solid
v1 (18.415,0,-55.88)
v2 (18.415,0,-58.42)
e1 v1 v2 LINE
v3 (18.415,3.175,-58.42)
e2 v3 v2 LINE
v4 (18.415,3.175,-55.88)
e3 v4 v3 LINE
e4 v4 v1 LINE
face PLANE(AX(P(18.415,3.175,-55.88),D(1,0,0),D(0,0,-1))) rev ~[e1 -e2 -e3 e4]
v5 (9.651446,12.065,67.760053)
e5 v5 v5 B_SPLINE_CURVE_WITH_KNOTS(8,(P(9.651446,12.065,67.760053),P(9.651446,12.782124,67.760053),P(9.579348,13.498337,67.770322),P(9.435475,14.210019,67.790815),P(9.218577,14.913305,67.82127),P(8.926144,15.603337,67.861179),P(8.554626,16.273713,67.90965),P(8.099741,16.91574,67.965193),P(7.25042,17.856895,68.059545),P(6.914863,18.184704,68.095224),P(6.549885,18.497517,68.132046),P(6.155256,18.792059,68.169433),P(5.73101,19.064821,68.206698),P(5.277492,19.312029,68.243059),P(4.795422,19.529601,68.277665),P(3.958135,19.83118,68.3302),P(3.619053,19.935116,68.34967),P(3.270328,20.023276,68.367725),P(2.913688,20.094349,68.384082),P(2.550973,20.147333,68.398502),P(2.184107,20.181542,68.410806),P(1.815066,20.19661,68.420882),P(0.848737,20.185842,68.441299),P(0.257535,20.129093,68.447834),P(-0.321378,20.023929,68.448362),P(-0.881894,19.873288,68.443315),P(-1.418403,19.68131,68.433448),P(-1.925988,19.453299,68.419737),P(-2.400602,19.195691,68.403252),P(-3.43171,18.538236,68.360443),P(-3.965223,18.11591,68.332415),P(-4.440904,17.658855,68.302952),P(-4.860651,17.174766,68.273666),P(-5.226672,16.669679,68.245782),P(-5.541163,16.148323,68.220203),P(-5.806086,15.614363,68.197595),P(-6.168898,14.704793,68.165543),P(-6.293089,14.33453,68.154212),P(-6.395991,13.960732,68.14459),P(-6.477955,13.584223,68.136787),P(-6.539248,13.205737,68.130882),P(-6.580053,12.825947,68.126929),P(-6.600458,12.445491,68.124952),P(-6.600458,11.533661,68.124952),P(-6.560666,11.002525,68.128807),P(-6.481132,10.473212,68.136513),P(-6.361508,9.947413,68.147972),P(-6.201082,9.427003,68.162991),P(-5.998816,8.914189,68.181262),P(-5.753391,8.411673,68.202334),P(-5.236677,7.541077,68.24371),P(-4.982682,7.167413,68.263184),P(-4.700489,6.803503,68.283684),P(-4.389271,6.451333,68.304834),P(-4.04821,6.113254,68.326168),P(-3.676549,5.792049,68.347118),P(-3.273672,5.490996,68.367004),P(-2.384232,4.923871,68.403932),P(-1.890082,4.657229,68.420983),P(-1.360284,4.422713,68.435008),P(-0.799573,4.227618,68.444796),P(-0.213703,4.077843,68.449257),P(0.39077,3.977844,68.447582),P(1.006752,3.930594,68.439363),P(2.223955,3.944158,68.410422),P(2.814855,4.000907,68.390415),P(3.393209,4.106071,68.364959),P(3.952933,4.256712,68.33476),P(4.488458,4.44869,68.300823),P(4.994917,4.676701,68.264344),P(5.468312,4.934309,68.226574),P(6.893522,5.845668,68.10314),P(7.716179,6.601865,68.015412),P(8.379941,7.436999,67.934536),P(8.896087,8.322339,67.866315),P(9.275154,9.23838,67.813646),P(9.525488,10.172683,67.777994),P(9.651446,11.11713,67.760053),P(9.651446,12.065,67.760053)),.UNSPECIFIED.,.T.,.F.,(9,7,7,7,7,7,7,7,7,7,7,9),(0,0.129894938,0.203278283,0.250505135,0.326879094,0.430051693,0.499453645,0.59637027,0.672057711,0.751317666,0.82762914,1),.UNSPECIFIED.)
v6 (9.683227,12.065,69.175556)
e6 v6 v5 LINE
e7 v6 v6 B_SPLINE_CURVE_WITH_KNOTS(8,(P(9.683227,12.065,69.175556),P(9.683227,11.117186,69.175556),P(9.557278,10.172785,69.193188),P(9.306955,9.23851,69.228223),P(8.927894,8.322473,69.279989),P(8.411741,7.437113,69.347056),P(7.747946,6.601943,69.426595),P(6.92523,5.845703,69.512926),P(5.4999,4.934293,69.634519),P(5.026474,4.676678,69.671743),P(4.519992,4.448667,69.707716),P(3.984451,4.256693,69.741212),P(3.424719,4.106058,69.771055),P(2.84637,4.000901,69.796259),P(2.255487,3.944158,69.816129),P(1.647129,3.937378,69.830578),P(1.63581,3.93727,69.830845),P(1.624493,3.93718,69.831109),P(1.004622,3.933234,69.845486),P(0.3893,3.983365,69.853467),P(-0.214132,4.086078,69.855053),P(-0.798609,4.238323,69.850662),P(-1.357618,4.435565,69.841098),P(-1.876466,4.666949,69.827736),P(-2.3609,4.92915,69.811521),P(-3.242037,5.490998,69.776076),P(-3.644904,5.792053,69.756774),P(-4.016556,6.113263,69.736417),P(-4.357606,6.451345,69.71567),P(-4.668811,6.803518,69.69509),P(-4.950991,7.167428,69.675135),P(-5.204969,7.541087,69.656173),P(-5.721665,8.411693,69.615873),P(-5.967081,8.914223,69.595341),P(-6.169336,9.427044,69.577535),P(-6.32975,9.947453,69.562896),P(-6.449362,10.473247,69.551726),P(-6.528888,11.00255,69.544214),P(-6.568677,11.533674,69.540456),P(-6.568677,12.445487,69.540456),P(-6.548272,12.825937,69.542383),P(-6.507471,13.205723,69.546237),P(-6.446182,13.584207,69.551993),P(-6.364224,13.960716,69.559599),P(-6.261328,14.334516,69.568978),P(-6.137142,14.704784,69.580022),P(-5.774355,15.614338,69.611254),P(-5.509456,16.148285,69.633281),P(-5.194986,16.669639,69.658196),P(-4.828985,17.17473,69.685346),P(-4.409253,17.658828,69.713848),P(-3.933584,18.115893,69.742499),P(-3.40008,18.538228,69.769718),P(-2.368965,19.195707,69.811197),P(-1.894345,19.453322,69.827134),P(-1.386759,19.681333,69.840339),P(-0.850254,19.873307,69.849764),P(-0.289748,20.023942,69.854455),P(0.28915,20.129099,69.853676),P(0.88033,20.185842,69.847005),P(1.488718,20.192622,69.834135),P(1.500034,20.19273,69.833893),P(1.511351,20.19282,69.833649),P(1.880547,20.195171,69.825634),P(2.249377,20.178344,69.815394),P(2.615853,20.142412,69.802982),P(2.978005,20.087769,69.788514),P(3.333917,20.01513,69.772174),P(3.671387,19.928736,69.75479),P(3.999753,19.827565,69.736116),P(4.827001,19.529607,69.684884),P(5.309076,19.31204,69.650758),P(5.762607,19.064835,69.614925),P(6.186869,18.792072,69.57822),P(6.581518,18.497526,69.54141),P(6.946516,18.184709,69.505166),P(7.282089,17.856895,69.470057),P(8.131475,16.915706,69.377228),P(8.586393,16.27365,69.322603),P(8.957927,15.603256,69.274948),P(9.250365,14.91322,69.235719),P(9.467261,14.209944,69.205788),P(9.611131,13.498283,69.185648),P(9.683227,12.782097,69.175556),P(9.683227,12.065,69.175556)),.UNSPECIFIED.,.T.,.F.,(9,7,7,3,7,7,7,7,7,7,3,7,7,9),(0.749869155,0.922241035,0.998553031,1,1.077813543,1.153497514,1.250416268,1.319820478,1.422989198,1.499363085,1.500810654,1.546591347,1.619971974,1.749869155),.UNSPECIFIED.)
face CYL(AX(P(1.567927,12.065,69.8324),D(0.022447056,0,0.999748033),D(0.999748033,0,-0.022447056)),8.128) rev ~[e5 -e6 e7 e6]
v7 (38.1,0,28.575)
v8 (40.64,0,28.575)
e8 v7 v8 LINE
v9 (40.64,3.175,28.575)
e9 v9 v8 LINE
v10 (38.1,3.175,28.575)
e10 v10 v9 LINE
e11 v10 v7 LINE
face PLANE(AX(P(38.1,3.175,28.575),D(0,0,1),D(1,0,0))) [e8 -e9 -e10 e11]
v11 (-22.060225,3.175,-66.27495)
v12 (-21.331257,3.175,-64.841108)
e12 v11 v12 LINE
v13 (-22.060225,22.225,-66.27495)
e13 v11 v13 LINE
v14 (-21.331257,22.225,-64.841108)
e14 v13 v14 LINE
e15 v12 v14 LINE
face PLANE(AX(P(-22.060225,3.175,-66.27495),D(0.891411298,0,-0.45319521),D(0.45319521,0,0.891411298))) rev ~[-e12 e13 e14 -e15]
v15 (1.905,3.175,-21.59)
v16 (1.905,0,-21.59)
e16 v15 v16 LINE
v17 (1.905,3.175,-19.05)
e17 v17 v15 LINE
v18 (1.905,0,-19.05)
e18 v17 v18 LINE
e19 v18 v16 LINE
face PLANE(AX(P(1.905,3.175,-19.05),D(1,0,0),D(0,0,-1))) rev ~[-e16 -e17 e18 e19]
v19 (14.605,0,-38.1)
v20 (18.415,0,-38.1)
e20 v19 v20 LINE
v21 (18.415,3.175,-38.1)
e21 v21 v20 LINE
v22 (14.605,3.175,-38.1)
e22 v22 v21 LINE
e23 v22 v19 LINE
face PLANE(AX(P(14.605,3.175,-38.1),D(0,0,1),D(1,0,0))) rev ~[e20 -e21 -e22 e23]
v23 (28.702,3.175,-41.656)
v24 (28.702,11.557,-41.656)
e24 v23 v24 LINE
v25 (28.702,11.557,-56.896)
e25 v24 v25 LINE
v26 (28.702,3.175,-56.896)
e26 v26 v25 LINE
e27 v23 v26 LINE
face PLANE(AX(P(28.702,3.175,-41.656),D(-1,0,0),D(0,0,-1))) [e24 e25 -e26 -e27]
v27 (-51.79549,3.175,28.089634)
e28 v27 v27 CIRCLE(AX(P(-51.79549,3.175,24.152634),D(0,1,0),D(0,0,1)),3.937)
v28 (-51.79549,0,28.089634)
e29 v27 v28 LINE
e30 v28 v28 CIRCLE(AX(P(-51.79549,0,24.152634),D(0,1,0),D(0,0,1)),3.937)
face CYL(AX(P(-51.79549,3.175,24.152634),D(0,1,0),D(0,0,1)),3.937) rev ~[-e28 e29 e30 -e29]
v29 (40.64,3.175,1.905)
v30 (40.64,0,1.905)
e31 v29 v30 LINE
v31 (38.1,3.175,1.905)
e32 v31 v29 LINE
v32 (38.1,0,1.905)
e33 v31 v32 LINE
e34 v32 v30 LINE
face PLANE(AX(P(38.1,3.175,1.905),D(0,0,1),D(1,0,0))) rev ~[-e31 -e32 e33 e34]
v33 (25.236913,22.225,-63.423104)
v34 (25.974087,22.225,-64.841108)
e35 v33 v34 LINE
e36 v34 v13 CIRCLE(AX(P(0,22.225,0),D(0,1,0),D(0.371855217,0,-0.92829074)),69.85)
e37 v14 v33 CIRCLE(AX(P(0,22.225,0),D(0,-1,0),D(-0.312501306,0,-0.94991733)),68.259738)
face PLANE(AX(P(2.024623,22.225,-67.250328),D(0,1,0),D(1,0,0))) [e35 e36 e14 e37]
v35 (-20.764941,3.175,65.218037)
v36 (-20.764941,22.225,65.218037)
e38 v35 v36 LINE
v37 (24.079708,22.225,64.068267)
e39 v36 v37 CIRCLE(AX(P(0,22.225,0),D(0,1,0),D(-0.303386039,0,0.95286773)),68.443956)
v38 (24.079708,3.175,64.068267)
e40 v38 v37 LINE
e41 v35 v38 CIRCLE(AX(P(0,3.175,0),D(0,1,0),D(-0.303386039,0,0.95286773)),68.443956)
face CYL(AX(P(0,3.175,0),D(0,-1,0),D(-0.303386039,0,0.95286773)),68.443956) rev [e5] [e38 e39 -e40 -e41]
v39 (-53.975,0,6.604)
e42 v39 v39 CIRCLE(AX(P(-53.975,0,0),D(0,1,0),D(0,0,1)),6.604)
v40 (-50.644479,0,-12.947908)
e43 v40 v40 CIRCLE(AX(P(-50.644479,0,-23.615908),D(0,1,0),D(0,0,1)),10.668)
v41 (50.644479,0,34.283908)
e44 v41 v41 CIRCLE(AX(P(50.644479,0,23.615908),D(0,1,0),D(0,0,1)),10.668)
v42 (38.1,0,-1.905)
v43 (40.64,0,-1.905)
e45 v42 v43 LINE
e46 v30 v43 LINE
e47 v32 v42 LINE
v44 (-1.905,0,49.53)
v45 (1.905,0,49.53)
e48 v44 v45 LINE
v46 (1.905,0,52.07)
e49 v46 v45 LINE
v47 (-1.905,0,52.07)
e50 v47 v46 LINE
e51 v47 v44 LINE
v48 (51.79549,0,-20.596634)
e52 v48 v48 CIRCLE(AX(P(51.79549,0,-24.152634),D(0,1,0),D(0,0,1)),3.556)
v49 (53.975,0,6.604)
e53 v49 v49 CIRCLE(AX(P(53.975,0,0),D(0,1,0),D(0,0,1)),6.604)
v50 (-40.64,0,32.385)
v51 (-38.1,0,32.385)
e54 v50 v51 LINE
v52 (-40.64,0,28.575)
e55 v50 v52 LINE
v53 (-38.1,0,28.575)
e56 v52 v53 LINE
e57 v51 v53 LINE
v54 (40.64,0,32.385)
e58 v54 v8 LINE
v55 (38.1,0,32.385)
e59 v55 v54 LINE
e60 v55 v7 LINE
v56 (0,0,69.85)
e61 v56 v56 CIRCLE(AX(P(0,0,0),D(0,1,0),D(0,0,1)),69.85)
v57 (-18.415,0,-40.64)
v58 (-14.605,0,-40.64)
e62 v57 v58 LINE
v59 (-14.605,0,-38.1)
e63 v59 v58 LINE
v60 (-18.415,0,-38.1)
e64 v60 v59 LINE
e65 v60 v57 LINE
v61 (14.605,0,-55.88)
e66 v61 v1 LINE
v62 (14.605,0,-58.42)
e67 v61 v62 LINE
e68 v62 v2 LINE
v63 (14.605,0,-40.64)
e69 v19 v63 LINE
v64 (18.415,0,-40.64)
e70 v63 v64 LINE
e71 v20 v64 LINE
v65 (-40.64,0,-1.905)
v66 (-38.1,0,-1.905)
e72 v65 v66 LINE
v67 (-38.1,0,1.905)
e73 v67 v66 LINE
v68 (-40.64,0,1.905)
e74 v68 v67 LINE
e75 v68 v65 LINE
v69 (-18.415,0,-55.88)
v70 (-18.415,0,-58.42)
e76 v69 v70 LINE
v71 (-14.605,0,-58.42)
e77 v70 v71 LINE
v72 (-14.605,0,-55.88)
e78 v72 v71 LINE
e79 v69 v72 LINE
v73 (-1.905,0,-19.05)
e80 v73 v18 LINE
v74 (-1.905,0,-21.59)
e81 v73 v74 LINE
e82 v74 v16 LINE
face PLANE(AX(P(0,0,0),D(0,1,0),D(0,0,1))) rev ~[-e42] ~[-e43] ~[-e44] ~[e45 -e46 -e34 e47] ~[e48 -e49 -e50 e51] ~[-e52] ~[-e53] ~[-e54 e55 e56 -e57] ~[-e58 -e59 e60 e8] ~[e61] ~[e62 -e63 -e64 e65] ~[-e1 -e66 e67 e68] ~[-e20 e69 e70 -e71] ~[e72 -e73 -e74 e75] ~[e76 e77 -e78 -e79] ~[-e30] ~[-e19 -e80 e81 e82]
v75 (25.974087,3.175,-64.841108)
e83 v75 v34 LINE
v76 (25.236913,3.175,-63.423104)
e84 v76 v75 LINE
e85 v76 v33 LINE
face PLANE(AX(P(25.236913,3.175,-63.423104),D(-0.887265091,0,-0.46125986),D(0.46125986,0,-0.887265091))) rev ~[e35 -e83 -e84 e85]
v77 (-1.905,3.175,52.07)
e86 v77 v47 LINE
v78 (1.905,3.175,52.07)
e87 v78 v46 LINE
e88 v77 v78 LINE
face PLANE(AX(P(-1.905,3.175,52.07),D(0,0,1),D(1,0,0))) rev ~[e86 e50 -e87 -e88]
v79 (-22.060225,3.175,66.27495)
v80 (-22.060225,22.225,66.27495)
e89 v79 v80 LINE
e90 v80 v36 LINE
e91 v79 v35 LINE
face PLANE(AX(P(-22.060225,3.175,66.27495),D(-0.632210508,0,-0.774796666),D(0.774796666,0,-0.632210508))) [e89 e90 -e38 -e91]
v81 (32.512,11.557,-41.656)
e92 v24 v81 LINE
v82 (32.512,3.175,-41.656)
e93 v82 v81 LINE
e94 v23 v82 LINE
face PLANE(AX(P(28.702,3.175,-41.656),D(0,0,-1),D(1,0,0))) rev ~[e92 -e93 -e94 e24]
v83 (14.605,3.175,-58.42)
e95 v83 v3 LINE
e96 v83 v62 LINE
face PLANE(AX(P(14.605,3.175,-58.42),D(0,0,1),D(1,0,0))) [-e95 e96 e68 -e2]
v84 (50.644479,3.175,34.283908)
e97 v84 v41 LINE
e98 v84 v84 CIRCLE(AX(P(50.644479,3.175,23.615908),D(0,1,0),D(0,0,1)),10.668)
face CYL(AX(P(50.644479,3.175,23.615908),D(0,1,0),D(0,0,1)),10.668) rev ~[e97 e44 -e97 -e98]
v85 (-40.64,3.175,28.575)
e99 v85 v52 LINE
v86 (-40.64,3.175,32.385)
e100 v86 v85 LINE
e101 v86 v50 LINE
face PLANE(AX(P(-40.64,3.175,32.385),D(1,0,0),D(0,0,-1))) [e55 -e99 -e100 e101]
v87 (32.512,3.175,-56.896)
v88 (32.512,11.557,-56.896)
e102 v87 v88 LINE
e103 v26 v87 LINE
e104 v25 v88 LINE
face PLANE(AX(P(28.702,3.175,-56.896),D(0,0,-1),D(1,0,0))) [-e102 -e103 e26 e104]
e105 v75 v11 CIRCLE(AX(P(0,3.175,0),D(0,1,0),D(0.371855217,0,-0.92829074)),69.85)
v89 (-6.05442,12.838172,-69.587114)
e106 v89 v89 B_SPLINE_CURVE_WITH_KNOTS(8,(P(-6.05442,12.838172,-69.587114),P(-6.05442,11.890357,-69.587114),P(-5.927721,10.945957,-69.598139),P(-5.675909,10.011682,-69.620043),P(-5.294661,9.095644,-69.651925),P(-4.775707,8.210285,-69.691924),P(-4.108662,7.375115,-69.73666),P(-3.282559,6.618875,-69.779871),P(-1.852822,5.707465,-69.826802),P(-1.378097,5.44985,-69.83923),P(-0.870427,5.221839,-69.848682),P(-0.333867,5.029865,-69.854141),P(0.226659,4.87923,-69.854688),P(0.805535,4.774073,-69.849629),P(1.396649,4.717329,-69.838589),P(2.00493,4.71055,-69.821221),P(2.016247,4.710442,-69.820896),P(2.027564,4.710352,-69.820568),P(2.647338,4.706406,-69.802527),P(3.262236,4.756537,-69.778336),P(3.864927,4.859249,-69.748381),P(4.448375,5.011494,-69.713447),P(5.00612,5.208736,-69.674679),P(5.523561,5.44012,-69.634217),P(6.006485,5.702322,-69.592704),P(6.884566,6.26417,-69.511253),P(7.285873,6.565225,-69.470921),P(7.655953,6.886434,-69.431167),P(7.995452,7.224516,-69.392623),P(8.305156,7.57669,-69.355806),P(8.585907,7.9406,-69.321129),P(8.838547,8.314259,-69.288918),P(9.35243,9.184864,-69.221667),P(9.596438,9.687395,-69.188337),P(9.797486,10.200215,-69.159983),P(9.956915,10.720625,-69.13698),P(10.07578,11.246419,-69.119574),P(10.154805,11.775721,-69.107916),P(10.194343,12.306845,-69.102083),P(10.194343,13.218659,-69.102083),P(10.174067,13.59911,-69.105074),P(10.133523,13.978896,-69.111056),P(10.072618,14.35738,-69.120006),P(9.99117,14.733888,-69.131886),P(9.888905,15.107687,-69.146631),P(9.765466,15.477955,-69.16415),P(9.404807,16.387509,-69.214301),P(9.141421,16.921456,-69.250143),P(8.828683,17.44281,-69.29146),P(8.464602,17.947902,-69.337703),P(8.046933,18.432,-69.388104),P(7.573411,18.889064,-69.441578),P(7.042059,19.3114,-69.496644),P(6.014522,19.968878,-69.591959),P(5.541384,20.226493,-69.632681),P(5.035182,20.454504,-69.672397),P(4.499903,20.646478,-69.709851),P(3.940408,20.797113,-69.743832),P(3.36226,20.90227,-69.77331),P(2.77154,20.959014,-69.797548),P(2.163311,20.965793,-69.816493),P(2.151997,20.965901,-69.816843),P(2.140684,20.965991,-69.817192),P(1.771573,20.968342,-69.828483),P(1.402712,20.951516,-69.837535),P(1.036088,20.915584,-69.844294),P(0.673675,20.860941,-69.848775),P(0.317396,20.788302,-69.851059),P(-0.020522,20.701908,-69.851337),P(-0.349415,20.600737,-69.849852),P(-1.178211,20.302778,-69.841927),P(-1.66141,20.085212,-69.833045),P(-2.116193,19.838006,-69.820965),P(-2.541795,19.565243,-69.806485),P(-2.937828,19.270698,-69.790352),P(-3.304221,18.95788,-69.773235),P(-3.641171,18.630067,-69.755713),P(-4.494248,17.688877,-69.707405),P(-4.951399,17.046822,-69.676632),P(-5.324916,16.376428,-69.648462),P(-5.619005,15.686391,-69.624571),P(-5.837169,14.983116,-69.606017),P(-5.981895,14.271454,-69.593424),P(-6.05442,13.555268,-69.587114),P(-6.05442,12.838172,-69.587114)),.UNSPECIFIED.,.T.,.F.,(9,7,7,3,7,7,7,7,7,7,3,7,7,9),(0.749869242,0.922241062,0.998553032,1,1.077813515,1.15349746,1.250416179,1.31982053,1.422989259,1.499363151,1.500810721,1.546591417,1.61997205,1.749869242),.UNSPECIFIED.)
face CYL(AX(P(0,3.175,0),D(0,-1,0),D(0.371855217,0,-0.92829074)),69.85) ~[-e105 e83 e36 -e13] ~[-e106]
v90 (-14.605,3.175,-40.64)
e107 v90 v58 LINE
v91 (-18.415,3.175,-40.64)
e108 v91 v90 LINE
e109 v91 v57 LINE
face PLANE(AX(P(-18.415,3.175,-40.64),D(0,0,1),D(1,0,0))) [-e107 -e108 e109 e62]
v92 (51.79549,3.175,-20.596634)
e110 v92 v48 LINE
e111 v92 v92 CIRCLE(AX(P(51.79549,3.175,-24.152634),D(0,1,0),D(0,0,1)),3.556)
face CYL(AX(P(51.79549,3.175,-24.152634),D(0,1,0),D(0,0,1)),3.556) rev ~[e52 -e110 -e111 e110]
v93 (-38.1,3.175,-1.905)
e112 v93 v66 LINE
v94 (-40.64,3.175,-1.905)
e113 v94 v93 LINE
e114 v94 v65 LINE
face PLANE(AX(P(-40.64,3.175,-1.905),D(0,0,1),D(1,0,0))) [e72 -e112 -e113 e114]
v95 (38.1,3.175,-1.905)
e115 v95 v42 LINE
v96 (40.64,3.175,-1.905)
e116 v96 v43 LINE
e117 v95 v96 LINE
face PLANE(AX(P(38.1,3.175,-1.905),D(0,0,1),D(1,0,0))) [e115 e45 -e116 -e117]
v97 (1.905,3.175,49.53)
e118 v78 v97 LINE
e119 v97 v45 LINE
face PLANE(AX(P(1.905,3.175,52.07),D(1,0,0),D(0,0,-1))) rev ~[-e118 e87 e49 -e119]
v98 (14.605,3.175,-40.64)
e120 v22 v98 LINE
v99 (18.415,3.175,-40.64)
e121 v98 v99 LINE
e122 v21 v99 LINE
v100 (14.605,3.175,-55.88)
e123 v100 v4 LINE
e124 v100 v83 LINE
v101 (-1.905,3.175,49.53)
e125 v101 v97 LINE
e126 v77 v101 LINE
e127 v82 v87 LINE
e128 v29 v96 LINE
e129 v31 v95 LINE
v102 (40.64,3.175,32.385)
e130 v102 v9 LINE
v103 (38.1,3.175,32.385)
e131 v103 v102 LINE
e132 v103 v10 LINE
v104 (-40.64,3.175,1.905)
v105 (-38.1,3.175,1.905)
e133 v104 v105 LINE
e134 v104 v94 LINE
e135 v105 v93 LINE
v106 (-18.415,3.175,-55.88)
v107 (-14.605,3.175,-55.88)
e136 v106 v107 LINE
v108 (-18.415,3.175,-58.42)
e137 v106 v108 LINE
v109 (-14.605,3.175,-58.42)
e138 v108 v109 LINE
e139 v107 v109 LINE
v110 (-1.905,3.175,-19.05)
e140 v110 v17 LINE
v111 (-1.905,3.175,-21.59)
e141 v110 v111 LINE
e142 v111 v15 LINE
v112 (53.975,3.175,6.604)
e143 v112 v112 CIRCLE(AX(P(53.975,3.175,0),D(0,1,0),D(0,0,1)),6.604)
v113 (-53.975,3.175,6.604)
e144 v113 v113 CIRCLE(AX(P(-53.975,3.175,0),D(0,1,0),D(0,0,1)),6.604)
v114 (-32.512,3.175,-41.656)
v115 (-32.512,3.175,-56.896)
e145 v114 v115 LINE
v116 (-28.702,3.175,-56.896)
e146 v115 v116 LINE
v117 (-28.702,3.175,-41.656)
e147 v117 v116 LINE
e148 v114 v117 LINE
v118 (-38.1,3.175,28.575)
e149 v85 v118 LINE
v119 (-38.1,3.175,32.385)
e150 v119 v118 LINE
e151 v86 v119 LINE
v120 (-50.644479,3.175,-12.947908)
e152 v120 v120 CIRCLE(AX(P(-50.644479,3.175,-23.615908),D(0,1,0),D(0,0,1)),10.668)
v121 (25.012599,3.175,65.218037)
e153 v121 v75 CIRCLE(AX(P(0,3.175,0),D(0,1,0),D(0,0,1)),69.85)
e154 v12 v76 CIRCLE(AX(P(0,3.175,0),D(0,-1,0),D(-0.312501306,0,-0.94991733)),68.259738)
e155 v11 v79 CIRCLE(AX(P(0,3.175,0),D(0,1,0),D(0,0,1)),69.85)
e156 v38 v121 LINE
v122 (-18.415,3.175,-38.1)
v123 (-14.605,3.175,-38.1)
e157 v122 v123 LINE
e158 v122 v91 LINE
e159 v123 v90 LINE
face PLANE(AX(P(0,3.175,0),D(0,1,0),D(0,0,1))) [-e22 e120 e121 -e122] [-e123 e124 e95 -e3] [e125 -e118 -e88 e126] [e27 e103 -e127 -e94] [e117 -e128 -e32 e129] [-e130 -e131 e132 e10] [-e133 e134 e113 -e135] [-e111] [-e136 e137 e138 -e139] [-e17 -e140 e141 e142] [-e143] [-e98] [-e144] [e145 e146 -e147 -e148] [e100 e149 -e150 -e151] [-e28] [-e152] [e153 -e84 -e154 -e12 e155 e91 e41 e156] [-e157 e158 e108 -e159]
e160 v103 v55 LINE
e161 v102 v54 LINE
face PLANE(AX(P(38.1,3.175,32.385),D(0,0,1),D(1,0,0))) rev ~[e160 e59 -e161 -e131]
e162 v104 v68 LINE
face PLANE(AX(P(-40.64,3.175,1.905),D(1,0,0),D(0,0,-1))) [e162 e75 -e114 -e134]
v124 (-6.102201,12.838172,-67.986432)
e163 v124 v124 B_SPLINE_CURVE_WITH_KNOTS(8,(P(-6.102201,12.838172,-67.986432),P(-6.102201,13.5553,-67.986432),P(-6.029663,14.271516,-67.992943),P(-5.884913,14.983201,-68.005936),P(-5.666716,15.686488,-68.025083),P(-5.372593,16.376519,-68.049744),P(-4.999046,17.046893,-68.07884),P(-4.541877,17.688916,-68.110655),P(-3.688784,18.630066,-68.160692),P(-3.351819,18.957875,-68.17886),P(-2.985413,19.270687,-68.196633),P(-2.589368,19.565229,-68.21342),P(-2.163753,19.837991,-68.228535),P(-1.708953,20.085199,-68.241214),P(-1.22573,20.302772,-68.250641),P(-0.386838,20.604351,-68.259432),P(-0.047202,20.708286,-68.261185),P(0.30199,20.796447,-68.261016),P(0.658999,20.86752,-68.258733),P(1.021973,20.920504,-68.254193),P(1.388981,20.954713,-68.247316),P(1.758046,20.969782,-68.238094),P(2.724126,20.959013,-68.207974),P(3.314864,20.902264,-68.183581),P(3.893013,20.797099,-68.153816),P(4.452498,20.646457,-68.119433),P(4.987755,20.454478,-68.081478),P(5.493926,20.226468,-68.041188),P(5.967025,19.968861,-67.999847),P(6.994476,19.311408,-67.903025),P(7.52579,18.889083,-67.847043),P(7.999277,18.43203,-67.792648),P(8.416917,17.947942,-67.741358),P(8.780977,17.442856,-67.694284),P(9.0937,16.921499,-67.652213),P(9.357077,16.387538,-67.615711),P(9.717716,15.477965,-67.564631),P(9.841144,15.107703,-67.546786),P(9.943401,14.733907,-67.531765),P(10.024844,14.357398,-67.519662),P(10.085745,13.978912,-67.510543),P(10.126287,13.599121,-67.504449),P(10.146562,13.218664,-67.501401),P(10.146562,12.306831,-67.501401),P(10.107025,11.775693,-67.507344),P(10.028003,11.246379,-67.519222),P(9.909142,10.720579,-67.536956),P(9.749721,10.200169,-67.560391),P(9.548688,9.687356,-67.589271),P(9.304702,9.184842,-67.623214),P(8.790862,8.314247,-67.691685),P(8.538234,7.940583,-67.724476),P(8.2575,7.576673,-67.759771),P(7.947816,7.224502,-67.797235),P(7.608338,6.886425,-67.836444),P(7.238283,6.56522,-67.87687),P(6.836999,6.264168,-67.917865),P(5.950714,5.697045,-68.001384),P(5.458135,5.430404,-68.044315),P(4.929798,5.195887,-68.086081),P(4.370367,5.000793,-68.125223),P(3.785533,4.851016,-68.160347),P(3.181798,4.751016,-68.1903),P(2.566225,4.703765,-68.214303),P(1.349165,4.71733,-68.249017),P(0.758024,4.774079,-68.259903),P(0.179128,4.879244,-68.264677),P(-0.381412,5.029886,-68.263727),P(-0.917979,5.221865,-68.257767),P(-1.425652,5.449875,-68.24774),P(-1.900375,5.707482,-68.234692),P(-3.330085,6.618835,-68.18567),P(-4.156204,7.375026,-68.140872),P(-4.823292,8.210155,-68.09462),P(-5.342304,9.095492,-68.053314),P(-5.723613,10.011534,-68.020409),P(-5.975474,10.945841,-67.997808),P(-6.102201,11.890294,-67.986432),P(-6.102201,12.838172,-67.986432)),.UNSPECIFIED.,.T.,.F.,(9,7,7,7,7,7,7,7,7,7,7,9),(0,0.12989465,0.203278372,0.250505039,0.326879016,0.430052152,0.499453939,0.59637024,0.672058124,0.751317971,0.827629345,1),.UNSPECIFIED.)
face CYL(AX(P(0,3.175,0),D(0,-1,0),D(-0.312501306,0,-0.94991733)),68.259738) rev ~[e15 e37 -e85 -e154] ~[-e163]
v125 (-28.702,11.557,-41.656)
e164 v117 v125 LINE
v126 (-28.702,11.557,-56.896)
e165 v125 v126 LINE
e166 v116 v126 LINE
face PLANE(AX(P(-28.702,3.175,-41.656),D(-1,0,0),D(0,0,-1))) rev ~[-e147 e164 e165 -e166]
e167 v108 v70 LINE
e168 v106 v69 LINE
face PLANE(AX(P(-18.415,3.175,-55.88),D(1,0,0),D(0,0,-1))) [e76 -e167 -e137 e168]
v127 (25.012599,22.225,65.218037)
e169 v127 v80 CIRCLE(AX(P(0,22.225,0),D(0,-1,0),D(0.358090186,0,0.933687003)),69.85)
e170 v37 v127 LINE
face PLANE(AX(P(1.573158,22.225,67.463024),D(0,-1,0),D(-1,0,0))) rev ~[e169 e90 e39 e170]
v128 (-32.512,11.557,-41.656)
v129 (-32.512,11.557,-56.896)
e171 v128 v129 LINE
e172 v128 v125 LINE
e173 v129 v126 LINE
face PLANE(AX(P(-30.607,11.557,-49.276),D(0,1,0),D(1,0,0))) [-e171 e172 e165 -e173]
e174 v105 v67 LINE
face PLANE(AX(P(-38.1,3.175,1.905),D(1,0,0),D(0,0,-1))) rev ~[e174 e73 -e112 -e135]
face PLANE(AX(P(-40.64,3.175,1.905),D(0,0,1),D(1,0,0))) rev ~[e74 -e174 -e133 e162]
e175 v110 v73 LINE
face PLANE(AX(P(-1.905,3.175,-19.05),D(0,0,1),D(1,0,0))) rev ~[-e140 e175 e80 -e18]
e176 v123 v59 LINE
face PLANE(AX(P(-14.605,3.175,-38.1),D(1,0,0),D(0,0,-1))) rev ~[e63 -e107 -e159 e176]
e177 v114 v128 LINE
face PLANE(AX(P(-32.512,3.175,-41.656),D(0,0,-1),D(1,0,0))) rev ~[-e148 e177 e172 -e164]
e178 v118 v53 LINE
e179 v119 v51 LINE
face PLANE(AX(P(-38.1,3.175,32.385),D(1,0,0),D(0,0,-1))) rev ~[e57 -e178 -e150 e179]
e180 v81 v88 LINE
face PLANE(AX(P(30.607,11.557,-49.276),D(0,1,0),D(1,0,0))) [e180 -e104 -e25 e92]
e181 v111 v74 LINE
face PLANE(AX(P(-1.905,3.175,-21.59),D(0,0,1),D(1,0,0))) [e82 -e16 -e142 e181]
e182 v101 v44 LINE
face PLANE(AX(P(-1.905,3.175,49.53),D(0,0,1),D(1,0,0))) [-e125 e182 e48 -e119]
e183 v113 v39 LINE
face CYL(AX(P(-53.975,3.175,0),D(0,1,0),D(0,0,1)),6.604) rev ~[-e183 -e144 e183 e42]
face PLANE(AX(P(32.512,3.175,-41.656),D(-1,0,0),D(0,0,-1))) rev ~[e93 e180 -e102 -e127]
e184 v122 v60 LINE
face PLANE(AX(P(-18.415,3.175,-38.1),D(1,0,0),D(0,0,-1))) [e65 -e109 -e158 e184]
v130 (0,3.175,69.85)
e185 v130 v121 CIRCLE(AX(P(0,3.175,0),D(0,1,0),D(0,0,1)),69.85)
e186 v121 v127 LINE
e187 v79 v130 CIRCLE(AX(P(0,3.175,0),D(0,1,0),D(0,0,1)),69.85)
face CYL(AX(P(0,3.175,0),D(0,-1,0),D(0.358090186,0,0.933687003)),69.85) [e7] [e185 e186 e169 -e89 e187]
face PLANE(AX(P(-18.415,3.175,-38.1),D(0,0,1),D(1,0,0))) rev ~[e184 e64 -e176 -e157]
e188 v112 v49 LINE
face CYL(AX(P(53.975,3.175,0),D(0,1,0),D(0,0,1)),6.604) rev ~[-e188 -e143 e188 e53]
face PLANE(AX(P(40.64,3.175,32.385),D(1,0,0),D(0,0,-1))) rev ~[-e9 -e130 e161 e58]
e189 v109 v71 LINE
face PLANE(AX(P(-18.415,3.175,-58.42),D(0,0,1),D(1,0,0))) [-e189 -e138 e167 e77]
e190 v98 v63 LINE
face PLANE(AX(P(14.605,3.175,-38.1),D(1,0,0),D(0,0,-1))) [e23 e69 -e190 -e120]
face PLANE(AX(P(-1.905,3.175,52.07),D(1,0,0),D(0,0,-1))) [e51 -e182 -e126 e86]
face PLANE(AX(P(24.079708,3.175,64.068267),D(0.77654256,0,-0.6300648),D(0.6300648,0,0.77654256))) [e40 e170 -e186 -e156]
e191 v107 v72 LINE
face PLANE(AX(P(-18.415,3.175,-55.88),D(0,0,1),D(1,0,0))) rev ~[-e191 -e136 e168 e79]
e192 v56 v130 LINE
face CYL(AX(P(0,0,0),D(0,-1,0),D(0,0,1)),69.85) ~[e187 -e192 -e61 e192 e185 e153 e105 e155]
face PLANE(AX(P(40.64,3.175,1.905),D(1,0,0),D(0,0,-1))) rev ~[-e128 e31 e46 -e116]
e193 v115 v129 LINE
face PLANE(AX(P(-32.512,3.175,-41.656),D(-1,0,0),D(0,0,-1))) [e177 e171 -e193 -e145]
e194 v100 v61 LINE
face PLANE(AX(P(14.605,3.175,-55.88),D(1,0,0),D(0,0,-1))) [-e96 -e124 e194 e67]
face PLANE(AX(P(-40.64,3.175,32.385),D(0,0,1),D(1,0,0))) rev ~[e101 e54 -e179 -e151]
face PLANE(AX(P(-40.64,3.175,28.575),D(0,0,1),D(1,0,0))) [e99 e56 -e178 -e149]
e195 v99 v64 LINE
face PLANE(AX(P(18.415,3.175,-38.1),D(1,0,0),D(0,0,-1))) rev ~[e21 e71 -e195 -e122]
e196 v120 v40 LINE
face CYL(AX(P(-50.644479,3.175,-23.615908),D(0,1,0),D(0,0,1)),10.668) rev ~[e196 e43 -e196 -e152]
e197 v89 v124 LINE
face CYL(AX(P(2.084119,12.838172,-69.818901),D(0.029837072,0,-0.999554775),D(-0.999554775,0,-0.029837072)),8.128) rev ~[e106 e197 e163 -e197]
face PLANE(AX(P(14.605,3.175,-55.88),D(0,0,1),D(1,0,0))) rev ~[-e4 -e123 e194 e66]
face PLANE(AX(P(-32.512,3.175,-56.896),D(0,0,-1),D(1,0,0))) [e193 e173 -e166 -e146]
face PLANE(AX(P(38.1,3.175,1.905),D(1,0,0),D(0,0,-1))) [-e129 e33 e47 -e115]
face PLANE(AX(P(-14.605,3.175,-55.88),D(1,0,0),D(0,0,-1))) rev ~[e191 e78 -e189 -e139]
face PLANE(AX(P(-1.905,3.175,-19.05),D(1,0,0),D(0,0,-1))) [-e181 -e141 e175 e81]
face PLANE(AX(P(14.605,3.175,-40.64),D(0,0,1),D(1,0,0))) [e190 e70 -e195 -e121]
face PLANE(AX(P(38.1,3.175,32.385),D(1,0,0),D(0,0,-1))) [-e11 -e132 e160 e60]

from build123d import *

# Parameters (mm, degrees)
SKETCH1_R           = 69.85
BOSS_EXTRUDE1_DEPTH = 3.175
SKETCH2_R           = 6.604
SKETCH2_R_2         = 3.937
SKETCH2_R_3         = 3.556
SKETCH2_R_4         = 10.668
CUT_EXTRUDE1_DEPTH  = 3.175
SKETCH3_W           = 3.81
SKETCH3_H           = 15.24
BOSS_EXTRUDE2_DEPTH = 8.382
SKETCH3_4_W         = 2.54
SKETCH3_4_H         = 3.81
SKETCH3_4_W_2       = 3.81
SKETCH3_4_H_2       = 2.54
CUT_EXTRUDE2_DEPTH  = 8.382
SKETCH4_W           = 3.81
SKETCH4_H           = 15.24
BOSS_EXTRUDE4_DEPTH = 8.382
BOSS_EXTRUDE5_DEPTH = 19.05
SKETCH6_R           = 8.128
CUT_EXTRUDE3_DEPTH  = 19.05
SKETCH7_R           = 8.128
CUT_EXTRUDE4_DEPTH  = 19.05


with BuildPart() as part:
    # Sketch1 → Boss-Extrude1 (new body)
    with BuildSketch(Plane(origin=(0, 0, 0), x_dir=(1, 0, 0), z_dir=(0, 1, 0))):
        with Locations(Location((0, 0, 0), (0, 0, 270))):
            Circle(SKETCH1_R)
    extrude(amount=BOSS_EXTRUDE1_DEPTH)

    # Sketch2 → Cut-Extrude1 (cut)
    with BuildSketch(Plane(origin=(0, 3.175, 0), x_dir=(1, 0, 0), z_dir=(0, 1, 0))):
        with Locations(Location((-53.975, 0, 0), (0, 0, 270))):
            Circle(SKETCH2_R)
        with Locations(Location((53.975, 0, 0), (0, 0, 270))):
            Circle(SKETCH2_R)
        with Locations(Location((-51.795490029, -24.152633658, 0), (0, 0, 270))):
            Circle(SKETCH2_R_2)
        with Locations(Location((51.795490029, 24.152633658, 0), (0, 0, 270))):
            Circle(SKETCH2_R_3)
        with Locations(Location((50.64447914, -23.615908466, 0), (0, 0, 270))):
            Circle(SKETCH2_R_4)
        with Locations(Location((-50.64447914, 23.615908466, 0), (0, 0, 270))):
            Circle(SKETCH2_R_4)
    extrude(amount=-CUT_EXTRUDE1_DEPTH, mode=Mode.SUBTRACT)

    # Sketch3 → Boss-Extrude2 (add)
    with BuildSketch(Plane(origin=(0, 3.175, 0), x_dir=(1, 0, 0), z_dir=(0, 1, 0))):
        with Locations((-30.607, 49.276)):
            Rectangle(SKETCH3_W, SKETCH3_H)
    extrude(amount=BOSS_EXTRUDE2_DEPTH)

    # Sketch3<4> → Cut-Extrude2 (cut)
    with BuildSketch(Plane(origin=(0, 3.175, 0), x_dir=(1, 0, 0), z_dir=(0, 1, 0))):
        with Locations((-39.37, 0)):
            Rectangle(SKETCH3_4_W, SKETCH3_4_H)
        with Locations((-39.37, -30.48)):
            Rectangle(SKETCH3_4_W, SKETCH3_4_H)
        with Locations((39.37, -30.48)):
            Rectangle(SKETCH3_4_W, SKETCH3_4_H)
        with Locations((39.37, 0)):
            Rectangle(SKETCH3_4_W, SKETCH3_4_H)
        with Locations((0, 20.32)):
            Rectangle(SKETCH3_4_W_2, SKETCH3_4_H_2)
        with Locations((0, -50.8)):
            Rectangle(SKETCH3_4_W_2, SKETCH3_4_H_2)
        with Locations((-16.51, 57.15)):
            Rectangle(SKETCH3_4_W_2, SKETCH3_4_H_2)
        with Locations((16.51, 57.15)):
            Rectangle(SKETCH3_4_W_2, SKETCH3_4_H_2)
        with Locations((16.51, 39.37)):
            Rectangle(SKETCH3_4_W_2, SKETCH3_4_H_2)
        with Locations((-16.51, 39.37)):
            Rectangle(SKETCH3_4_W_2, SKETCH3_4_H_2)
    extrude(amount=-CUT_EXTRUDE2_DEPTH, mode=Mode.SUBTRACT)

    # Sketch4 → Boss-Extrude4 (add)
    with BuildSketch(Plane(origin=(0, 3.175, 0), x_dir=(1, 0, 0), z_dir=(0, 1, 0))):
        with Locations((30.607, 49.276)):
            Rectangle(SKETCH4_W, SKETCH4_H)
    extrude(amount=BOSS_EXTRUDE4_DEPTH)

    # Sketch5 → Boss-Extrude5 (add)
    with BuildSketch(Plane(origin=(0, 3.175, 0), x_dir=(1, 0, 0), z_dir=(0, 1, 0))):
        with BuildLine():
            Line((-22.060225105, 66.27494978), (-21.331257294, 64.841108186))
            ThreePointArc((-21.331257294, 64.841108186), (2.077551681, 68.228114642), (25.236913051, 63.423103584))
            Line((25.236913051, 63.423103584), (25.974086879, 64.841108186))
            ThreePointArc((25.974086879, 64.841108186), (2.084119461, 69.818901066), (-22.060225105, 66.27494978))
        make_face()
        with BuildLine():
            Line((-22.060225105, -66.27494978), (-20.764940728, -65.218037135))
            ThreePointArc((-20.764940728, -65.218037135), (1.754255855, -68.421471174), (24.07970803, -64.068266657))
            Line((24.07970803, -64.068266657), (25.012599469, -65.218037135))
            ThreePointArc((25.012599469, -65.218037135), (1.567926874, -69.832400111), (-22.060225105, -66.27494978))
        make_face()
    extrude(amount=BOSS_EXTRUDE5_DEPTH)

    # Sketch6 → Cut-Extrude3 (cut)
    with BuildSketch(Plane(origin=(2.084119461, 22.225, -69.818901066), x_dir=(-0.9995547754627743, 0, -0.02983707173237782), z_dir=(0.029837071732377825, 0, -0.9995547754627744))):
        with Locations((0, -9.386828468)):
            Circle(SKETCH6_R)
    extrude(amount=-CUT_EXTRUDE3_DEPTH, mode=Mode.SUBTRACT)

    # Sketch7 → Cut-Extrude4 (cut)
    with BuildSketch(Plane(origin=(1.567926874, 22.225, 69.832400111), x_dir=(0.9997480330908115, 0, -0.022447056177901516), z_dir=(0.022447056177901513, 0, 0.9997480330908114))):
        with Locations((0, -10.16)):
            Circle(SKETCH7_R)
    extrude(amount=-CUT_EXTRUDE4_DEPTH, mode=Mode.SUBTRACT)


solid = part.part
